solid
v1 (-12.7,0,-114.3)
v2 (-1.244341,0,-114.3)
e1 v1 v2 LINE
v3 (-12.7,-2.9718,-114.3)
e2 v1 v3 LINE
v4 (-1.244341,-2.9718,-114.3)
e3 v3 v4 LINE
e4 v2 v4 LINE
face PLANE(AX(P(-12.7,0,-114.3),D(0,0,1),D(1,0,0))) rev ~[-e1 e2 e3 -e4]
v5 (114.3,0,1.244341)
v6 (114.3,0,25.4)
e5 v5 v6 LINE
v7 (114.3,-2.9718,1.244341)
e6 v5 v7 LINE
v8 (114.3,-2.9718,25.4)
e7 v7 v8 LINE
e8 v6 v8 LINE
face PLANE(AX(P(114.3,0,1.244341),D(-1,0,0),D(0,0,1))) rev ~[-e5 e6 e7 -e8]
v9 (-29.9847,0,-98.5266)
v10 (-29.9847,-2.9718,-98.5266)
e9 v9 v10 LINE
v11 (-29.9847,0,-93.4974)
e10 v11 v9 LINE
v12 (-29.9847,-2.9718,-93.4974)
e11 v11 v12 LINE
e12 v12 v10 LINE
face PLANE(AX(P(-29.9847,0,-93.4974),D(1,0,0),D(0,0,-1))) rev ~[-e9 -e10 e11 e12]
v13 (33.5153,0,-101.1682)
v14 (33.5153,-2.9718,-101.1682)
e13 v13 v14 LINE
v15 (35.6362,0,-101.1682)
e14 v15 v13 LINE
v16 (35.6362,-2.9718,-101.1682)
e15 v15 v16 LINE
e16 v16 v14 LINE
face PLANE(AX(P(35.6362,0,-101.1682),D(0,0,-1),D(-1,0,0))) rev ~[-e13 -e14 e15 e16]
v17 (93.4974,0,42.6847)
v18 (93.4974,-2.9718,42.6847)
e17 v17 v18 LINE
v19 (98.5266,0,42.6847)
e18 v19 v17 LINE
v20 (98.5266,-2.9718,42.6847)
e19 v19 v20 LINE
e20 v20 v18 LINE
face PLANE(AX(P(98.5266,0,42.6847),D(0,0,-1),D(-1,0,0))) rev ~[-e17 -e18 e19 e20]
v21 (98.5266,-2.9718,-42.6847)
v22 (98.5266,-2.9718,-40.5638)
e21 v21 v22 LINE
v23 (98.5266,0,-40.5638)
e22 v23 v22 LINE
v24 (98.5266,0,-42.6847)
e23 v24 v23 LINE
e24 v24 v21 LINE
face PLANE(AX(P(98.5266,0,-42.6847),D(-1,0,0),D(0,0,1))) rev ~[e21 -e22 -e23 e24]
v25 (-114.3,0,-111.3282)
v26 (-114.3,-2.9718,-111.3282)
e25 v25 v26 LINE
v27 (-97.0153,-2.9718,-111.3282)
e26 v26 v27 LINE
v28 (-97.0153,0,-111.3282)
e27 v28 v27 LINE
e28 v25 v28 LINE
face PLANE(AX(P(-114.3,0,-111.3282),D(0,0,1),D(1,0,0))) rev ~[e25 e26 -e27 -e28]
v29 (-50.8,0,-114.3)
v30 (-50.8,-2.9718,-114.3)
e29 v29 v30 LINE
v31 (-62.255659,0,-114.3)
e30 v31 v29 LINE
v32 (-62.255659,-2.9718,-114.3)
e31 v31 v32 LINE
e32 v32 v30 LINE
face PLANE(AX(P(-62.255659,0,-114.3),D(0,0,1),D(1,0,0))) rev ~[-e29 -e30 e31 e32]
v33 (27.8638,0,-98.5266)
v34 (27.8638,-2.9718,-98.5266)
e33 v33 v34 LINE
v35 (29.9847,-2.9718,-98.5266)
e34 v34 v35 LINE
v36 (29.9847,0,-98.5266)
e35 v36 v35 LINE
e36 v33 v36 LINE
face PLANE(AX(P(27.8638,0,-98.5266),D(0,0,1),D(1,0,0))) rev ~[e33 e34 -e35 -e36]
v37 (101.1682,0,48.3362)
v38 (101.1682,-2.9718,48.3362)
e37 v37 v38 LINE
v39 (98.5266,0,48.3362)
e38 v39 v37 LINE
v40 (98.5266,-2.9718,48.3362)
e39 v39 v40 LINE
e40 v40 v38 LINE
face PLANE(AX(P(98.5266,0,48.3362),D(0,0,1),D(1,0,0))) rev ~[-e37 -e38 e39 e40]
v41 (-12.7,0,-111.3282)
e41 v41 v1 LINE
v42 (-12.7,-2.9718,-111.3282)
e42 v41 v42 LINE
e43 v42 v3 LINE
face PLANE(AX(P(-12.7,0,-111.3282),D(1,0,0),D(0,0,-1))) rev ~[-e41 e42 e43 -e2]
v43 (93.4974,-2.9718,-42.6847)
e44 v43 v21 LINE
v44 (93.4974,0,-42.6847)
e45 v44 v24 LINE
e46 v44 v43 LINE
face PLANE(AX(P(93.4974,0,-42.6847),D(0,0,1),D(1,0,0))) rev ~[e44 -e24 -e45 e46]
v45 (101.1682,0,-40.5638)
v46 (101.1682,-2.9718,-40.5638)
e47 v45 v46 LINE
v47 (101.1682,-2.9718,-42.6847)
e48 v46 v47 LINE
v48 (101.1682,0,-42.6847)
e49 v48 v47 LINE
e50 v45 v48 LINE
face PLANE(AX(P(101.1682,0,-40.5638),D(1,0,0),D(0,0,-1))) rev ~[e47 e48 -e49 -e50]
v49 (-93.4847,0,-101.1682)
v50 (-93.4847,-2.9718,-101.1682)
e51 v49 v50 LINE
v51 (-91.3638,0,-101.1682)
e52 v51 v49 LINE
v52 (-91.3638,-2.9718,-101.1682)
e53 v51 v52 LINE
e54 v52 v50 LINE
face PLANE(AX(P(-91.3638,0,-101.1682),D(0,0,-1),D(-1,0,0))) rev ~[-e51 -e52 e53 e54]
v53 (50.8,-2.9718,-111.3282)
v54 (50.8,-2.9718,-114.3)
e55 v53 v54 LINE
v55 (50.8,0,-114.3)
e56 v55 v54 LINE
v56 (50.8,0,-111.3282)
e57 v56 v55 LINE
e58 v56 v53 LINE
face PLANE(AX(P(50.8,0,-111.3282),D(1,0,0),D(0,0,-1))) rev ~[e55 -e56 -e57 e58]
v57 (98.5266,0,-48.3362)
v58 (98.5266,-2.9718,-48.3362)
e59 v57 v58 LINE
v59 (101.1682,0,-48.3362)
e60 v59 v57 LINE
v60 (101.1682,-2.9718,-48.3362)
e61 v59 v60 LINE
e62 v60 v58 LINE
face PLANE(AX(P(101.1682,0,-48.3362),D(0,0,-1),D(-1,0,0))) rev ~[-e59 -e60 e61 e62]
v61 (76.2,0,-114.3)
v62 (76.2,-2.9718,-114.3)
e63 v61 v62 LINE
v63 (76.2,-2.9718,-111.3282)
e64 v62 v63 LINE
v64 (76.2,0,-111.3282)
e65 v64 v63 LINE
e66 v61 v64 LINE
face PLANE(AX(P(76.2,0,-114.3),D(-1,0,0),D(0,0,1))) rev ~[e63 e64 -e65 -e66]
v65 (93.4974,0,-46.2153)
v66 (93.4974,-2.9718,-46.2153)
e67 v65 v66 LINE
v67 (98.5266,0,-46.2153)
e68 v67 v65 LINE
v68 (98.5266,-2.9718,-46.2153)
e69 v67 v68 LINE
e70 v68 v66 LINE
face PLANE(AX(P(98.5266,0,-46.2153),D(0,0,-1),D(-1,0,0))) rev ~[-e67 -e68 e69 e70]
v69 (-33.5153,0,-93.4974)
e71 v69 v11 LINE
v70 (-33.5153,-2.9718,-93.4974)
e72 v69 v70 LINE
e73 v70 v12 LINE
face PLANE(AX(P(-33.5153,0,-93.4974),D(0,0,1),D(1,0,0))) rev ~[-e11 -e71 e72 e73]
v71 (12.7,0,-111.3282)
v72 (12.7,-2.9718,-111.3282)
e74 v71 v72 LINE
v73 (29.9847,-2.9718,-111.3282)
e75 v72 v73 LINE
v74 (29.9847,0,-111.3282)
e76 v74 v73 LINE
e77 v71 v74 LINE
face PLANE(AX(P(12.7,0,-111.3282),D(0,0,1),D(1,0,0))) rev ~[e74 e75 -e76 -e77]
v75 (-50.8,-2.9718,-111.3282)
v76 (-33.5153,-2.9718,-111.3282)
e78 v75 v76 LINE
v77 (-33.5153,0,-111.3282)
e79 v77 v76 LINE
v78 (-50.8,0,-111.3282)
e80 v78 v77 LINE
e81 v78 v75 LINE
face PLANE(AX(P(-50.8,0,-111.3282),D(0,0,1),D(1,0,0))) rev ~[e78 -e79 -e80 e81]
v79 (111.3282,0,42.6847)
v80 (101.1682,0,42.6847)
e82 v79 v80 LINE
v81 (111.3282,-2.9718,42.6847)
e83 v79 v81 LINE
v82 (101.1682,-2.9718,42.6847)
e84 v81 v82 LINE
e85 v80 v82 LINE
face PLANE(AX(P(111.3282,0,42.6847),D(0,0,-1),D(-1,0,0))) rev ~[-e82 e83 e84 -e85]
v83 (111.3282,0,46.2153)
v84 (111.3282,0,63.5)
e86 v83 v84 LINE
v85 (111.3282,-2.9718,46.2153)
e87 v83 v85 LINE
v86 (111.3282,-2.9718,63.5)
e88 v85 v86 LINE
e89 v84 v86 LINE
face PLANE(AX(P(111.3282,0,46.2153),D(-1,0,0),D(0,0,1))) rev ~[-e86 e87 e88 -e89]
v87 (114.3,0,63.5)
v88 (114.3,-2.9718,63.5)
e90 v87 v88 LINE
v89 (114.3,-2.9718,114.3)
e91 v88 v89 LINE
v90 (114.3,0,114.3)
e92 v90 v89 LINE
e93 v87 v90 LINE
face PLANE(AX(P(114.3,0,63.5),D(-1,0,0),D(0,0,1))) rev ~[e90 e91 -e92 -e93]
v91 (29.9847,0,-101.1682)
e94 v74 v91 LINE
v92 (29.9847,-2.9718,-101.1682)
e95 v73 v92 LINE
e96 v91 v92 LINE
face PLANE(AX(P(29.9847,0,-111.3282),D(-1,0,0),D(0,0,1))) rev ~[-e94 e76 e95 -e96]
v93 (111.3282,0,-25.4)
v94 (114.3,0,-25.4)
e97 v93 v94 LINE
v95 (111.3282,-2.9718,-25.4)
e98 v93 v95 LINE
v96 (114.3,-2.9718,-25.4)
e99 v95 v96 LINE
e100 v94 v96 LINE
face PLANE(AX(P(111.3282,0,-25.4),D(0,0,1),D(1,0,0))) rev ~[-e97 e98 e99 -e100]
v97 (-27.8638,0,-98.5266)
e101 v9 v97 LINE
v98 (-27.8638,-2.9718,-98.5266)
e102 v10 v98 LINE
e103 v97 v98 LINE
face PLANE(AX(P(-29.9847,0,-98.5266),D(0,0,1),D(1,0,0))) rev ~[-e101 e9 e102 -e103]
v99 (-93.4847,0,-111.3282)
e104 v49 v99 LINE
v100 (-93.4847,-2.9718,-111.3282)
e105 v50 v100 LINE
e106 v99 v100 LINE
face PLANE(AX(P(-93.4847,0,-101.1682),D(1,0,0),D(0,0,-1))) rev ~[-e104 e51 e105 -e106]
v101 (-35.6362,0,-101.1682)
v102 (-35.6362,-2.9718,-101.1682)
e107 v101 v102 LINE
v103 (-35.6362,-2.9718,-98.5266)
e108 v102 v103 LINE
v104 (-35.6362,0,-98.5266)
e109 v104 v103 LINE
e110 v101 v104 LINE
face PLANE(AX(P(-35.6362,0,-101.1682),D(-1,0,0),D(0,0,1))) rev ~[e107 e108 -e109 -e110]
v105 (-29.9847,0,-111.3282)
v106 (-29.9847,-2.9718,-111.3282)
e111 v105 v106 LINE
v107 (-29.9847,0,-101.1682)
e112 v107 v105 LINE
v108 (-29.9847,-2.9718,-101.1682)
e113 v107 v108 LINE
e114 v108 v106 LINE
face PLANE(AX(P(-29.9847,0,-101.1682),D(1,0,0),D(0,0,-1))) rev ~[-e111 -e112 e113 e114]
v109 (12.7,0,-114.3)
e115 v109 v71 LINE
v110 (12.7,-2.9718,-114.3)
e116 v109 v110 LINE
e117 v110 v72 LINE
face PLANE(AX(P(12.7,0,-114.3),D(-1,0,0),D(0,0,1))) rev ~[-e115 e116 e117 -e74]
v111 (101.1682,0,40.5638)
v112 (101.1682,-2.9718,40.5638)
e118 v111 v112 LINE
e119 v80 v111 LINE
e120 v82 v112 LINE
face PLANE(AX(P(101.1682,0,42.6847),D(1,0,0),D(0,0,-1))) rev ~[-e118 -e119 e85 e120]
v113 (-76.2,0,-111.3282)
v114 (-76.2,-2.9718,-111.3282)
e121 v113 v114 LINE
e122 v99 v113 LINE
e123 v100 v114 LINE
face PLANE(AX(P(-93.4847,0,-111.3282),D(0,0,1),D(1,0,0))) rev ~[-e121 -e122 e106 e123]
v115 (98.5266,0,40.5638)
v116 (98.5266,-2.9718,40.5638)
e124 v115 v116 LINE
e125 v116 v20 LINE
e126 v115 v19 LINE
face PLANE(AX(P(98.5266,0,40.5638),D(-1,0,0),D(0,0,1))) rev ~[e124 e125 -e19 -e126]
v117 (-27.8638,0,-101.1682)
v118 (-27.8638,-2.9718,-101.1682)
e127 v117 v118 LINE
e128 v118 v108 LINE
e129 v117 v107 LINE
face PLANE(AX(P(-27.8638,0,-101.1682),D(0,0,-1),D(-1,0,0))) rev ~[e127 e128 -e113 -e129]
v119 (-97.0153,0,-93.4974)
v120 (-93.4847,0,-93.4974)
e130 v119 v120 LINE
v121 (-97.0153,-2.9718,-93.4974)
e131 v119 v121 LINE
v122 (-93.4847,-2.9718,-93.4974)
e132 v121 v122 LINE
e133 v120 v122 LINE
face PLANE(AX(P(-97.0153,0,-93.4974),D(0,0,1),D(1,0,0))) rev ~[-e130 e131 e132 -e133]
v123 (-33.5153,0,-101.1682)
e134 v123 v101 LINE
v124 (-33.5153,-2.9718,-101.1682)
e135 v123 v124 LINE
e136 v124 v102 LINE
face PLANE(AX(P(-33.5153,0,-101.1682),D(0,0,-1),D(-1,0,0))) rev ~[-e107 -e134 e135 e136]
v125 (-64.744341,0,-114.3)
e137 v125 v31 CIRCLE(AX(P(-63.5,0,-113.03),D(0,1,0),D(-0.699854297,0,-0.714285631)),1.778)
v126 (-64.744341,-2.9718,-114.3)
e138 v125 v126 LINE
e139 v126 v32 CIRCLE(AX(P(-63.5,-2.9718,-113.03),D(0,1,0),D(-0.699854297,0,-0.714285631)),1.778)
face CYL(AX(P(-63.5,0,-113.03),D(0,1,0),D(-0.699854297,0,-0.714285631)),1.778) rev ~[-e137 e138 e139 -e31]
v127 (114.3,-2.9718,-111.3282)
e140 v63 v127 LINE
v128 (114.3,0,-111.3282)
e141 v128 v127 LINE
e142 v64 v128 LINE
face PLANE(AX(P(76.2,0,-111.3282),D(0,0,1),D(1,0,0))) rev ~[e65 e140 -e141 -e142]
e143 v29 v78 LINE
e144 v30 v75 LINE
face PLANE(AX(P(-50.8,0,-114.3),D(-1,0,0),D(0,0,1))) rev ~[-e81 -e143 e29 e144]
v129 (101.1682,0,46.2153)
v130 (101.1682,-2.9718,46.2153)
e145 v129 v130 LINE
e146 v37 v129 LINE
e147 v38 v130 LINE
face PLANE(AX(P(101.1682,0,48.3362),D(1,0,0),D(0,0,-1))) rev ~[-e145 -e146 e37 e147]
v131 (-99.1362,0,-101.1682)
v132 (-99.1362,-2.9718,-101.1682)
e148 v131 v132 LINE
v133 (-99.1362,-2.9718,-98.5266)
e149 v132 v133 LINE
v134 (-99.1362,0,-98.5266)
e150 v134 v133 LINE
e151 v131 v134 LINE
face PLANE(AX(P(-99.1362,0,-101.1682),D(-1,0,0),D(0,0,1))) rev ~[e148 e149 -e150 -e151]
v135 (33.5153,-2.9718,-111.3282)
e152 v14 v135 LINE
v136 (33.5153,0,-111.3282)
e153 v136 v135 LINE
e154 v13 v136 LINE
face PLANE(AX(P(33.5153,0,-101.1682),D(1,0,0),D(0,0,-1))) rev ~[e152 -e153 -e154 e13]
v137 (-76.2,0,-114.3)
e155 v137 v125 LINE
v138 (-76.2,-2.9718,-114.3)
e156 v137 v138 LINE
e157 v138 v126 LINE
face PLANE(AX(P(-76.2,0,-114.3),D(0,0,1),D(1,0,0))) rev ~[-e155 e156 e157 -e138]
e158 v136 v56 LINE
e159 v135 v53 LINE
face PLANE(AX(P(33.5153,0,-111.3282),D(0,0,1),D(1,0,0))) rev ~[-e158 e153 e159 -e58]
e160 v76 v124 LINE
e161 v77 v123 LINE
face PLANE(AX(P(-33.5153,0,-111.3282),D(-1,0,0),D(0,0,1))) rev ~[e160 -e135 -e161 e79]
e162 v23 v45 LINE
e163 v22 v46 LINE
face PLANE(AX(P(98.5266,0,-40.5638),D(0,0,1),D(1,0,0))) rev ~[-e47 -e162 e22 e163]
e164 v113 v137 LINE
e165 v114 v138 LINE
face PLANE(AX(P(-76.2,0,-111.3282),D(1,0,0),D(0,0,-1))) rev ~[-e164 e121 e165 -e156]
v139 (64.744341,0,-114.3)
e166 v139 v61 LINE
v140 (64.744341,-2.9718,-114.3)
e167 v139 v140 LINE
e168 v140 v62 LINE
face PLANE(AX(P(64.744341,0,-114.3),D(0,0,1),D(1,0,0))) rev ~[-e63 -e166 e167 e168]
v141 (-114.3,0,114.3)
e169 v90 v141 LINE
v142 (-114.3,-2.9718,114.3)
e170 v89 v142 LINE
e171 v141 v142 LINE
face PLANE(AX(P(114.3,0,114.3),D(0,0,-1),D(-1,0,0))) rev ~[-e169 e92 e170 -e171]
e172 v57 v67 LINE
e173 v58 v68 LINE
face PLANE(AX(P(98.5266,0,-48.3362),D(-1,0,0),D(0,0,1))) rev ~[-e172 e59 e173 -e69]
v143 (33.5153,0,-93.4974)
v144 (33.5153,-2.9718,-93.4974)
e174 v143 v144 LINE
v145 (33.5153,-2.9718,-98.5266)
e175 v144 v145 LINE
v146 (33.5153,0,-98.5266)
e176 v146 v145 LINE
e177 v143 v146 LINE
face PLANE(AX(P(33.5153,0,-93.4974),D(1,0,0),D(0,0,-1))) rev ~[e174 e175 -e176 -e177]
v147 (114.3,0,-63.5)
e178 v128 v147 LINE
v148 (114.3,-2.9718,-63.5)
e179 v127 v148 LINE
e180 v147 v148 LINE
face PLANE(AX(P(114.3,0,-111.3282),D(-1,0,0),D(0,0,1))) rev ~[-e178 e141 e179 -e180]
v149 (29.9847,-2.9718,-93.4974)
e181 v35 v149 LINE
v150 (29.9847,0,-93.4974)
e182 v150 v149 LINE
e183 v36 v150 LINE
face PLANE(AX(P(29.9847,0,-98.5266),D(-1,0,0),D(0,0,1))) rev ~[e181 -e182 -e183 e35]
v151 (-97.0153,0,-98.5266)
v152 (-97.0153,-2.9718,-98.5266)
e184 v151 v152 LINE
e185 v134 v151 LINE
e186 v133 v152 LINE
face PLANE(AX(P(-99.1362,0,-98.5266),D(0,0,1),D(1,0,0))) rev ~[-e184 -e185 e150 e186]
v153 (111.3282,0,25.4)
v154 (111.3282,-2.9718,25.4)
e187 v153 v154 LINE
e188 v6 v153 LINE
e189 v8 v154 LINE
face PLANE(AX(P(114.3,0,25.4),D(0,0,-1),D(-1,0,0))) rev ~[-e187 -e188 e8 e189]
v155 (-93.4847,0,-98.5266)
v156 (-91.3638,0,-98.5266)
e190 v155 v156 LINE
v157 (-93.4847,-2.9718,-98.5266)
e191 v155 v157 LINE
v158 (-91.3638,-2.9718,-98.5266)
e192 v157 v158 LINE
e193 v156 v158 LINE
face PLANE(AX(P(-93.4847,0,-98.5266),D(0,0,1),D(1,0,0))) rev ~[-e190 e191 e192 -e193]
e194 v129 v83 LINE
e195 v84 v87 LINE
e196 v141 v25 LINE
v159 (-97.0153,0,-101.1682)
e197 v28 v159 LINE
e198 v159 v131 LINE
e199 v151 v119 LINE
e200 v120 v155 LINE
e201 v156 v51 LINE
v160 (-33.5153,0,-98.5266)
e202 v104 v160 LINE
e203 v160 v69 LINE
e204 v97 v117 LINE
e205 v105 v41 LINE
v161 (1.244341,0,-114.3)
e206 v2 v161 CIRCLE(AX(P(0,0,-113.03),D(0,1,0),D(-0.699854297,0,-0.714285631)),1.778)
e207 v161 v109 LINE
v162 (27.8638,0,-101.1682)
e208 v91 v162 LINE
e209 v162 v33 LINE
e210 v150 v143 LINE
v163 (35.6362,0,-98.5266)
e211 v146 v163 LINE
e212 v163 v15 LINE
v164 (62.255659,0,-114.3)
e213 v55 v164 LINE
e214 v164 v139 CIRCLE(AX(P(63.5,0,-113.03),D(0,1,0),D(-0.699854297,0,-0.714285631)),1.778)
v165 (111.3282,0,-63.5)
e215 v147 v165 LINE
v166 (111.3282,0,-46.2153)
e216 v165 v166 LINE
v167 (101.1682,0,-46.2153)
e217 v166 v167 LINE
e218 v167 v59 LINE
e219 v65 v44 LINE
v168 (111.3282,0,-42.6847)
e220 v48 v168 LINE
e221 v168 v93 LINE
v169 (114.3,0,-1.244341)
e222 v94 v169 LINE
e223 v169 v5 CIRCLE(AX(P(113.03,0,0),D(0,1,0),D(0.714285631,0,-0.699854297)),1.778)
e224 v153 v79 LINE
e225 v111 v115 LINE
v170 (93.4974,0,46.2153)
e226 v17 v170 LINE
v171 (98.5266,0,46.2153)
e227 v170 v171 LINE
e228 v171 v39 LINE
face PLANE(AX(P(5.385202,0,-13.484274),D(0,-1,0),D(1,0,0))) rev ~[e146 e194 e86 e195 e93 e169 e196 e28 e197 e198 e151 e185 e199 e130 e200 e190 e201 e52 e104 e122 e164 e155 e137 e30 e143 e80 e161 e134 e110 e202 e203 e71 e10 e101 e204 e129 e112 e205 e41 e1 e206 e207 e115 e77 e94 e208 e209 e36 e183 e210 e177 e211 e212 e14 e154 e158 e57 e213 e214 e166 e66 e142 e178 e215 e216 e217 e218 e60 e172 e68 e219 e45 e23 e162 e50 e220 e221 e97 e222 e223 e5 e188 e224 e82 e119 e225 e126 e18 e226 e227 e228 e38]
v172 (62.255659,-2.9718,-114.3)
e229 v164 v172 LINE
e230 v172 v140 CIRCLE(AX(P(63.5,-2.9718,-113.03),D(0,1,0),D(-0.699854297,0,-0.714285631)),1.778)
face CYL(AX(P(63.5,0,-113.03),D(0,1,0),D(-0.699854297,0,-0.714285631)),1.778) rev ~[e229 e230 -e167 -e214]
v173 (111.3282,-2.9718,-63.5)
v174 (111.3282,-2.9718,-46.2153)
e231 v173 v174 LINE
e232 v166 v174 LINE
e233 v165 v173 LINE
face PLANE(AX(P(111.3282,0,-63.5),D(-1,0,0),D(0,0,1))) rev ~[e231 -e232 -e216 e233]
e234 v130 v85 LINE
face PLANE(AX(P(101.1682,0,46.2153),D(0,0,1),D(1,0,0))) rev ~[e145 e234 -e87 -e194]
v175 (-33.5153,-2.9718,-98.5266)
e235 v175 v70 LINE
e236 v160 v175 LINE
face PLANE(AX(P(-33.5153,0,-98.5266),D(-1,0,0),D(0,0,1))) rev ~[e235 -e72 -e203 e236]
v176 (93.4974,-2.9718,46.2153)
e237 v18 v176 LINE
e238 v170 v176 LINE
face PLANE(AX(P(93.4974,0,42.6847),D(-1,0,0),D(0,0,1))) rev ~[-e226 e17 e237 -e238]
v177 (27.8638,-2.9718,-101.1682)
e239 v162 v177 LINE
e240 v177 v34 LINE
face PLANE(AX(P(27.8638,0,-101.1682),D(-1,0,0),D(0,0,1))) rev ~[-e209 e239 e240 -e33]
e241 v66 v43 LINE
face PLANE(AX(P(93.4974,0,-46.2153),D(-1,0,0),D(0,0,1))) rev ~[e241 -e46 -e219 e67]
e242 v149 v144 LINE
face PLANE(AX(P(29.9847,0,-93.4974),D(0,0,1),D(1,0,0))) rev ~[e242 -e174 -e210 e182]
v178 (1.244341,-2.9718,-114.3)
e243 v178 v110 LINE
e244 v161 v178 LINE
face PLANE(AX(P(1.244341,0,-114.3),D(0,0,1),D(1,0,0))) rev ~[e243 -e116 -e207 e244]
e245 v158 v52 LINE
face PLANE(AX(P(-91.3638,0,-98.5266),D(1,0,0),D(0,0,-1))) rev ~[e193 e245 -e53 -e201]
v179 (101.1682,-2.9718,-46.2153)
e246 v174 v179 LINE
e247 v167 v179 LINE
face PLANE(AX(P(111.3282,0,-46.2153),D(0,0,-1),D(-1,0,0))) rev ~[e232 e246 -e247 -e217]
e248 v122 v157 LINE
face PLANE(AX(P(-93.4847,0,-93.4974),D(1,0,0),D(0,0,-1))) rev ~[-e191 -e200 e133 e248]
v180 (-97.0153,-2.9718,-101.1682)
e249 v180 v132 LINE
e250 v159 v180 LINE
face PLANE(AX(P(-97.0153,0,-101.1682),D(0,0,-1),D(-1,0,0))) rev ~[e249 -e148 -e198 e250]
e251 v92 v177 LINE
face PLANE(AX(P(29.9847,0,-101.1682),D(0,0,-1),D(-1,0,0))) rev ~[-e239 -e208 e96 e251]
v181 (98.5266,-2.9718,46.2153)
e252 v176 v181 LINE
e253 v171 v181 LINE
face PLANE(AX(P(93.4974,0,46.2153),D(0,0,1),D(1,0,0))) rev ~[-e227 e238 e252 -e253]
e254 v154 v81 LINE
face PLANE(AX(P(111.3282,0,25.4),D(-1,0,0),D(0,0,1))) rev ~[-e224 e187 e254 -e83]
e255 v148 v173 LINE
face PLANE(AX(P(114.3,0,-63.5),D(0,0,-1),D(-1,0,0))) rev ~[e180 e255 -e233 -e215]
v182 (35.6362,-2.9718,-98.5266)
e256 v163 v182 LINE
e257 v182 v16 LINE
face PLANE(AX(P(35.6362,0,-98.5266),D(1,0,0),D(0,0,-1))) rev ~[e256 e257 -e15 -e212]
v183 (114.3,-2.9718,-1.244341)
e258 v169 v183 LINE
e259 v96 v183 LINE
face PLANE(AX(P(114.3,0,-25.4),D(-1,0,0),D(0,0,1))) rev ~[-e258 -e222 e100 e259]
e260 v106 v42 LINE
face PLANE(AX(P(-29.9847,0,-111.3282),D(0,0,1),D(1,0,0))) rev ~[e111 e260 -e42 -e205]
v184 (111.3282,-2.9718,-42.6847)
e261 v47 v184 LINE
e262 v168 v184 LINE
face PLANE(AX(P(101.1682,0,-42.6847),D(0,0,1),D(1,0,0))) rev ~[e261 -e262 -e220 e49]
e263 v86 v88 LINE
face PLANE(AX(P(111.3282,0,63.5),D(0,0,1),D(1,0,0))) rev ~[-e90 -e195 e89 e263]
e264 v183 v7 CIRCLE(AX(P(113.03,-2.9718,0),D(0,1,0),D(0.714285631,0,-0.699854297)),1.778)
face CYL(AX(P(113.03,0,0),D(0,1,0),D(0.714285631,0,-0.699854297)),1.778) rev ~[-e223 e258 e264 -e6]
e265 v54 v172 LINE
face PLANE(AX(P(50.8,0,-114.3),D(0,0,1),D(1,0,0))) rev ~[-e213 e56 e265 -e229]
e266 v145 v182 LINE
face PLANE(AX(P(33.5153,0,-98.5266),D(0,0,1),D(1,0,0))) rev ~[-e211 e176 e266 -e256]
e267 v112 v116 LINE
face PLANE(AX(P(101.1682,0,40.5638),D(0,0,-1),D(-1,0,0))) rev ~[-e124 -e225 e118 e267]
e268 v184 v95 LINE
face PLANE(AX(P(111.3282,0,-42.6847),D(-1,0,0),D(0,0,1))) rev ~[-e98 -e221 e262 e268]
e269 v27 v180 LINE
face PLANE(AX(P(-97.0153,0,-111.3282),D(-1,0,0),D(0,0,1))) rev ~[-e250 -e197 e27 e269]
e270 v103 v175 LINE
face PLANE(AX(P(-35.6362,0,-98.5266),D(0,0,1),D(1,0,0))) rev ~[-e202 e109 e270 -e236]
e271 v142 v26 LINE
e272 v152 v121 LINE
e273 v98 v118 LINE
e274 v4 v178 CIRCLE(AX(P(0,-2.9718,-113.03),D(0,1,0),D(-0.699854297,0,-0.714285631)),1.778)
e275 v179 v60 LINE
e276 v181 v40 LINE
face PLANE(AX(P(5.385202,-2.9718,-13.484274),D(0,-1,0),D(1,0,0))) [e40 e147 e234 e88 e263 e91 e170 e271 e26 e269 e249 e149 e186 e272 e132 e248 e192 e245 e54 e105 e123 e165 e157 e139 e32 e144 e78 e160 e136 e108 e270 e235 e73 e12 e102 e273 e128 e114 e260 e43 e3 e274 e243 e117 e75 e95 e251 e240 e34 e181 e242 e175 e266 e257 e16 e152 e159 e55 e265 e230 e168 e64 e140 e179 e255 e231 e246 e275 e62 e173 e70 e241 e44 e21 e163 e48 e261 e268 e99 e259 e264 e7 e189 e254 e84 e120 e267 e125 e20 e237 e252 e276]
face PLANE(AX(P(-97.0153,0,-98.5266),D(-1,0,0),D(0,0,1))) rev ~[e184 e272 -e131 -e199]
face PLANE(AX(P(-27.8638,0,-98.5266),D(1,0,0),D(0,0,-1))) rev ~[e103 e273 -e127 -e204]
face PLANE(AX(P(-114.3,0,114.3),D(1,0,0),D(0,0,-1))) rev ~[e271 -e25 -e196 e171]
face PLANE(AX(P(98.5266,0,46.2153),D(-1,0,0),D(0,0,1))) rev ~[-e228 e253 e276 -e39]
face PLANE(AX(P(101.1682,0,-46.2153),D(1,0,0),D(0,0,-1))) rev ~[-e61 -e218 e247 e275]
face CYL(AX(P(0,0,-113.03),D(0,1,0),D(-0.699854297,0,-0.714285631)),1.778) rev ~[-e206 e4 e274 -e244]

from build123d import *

# Parameters (mm, degrees)
F1_DEPTH = 2.9718


with BuildPart() as f1:
    # F0 (on Front) → F1 (new body)
    with BuildSketch(Plane.XZ):
        with BuildLine():
            Line((64.744341, -114.3), (76.2, -114.3))
            Line((76.2, -114.3), (76.2, -111.3282))
            Line((76.2, -111.3282), (114.3, -111.3282))
            Line((114.3, -111.3282), (114.3, -63.5))
            Line((114.3, -63.5), (111.3282, -63.5))
            Line((111.3282, -63.5), (111.3282, -46.2153))
            Line((111.3282, -46.2153), (101.1682, -46.2153))
            Line((101.1682, -46.2153), (101.1682, -48.3362))
            Line((101.1682, -48.3362), (98.5266, -48.3362))
            Line((98.5266, -48.3362), (98.5266, -46.2153))
            Line((98.5266, -46.2153), (93.4974, -46.2153))
            Line((93.4974, -46.2153), (93.4974, -42.6847))
            Line((93.4974, -42.6847), (98.5266, -42.6847))
            Line((98.5266, -42.6847), (98.5266, -40.5638))
            Line((98.5266, -40.5638), (101.1682, -40.5638))
            Line((101.1682, -40.5638), (101.1682, -42.6847))
            Line((101.1682, -42.6847), (111.3282, -42.6847))
            Line((111.3282, -42.6847), (111.3282, -25.4))
            Line((111.3282, -25.4), (114.3, -25.4))
            Line((114.3, -25.4), (114.3, -1.244341))
            ThreePointArc((114.3, -1.244341), (111.252, 0), (114.3, 1.244341))
            Line((114.3, 1.244341), (114.3, 25.4))
            Line((114.3, 25.4), (111.3282, 25.4))
            Line((111.3282, 25.4), (111.3282, 42.6847))
            Line((111.3282, 42.6847), (101.1682, 42.6847))
            Line((101.1682, 42.6847), (101.1682, 40.5638))
            Line((101.1682, 40.5638), (98.5266, 40.5638))
            Line((98.5266, 40.5638), (98.5266, 42.6847))
            Line((98.5266, 42.6847), (93.4974, 42.6847))
            Line((93.4974, 42.6847), (93.4974, 46.2153))
            Line((93.4974, 46.2153), (98.5266, 46.2153))
            Line((98.5266, 46.2153), (98.5266, 48.3362))
            Line((98.5266, 48.3362), (101.1682, 48.3362))
            Line((101.1682, 48.3362), (101.1682, 46.2153))
            Line((101.1682, 46.2153), (111.3282, 46.2153))
            Line((111.3282, 46.2153), (111.3282, 63.5))
            Line((111.3282, 63.5), (114.3, 63.5))
            Line((114.3, 63.5), (114.3, 114.3))
            Line((114.3, 114.3), (-114.3, 114.3))
            Line((-114.3, 114.3), (-114.3, -111.3282))
            Line((-114.3, -111.3282), (-97.0153, -111.3282))
            Line((-97.0153, -111.3282), (-97.0153, -101.1682))
            Line((-97.0153, -101.1682), (-99.1362, -101.1682))
            Line((-99.1362, -101.1682), (-99.1362, -98.5266))
            Line((-99.1362, -98.5266), (-97.0153, -98.5266))
            Line((-97.0153, -98.5266), (-97.0153, -93.4974))
            Line((-97.0153, -93.4974), (-93.4847, -93.4974))
            Line((-93.4847, -93.4974), (-93.4847, -98.5266))
            Line((-93.4847, -98.5266), (-91.3638, -98.5266))
            Line((-91.3638, -98.5266), (-91.3638, -101.1682))
            Line((-91.3638, -101.1682), (-93.4847, -101.1682))
            Line((-93.4847, -101.1682), (-93.4847, -111.3282))
            Line((-93.4847, -111.3282), (-76.2, -111.3282))
            Line((-76.2, -111.3282), (-76.2, -114.3))
            Line((-76.2, -114.3), (-64.744341, -114.3))
            ThreePointArc((-64.744341, -114.3), (-63.5, -111.252), (-62.255659, -114.3))
            Line((-62.255659, -114.3), (-50.8, -114.3))
            Line((-50.8, -114.3), (-50.8, -111.3282))
            Line((-50.8, -111.3282), (-33.5153, -111.3282))
            Line((-33.5153, -111.3282), (-33.5153, -101.1682))
            Line((-33.5153, -101.1682), (-35.6362, -101.1682))
            Line((-35.6362, -101.1682), (-35.6362, -98.5266))
            Line((-35.6362, -98.5266), (-33.5153, -98.5266))
            Line((-33.5153, -98.5266), (-33.5153, -93.4974))
            Line((-33.5153, -93.4974), (-29.9847, -93.4974))
            Line((-29.9847, -93.4974), (-29.9847, -98.5266))
            Line((-29.9847, -98.5266), (-27.8638, -98.5266))
            Line((-27.8638, -98.5266), (-27.8638, -101.1682))
            Line((-27.8638, -101.1682), (-29.9847, -101.1682))
            Line((-29.9847, -101.1682), (-29.9847, -111.3282))
            Line((-29.9847, -111.3282), (-12.7, -111.3282))
            Line((-12.7, -111.3282), (-12.7, -114.3))
            Line((-12.7, -114.3), (-1.244341, -114.3))
            ThreePointArc((-1.244341, -114.3), (0, -111.252), (1.244341, -114.3))
            Line((1.244341, -114.3), (12.7, -114.3))
            Line((12.7, -114.3), (12.7, -111.3282))
            Line((12.7, -111.3282), (29.9847, -111.3282))
            Line((29.9847, -111.3282), (29.9847, -101.1682))
            Line((29.9847, -101.1682), (27.8638, -101.1682))
            Line((27.8638, -101.1682), (27.8638, -98.5266))
            Line((27.8638, -98.5266), (29.9847, -98.5266))
            Line((29.9847, -98.5266), (29.9847, -93.4974))
            Line((29.9847, -93.4974), (33.5153, -93.4974))
            Line((33.5153, -93.4974), (33.5153, -98.5266))
            Line((33.5153, -98.5266), (35.6362, -98.5266))
            Line((35.6362, -98.5266), (35.6362, -101.1682))
            Line((35.6362, -101.1682), (33.5153, -101.1682))
            Line((33.5153, -101.1682), (33.5153, -111.3282))
            Line((33.5153, -111.3282), (50.8, -111.3282))
            Line((50.8, -111.3282), (50.8, -114.3))
            Line((50.8, -114.3), (62.255659, -114.3))
            ThreePointArc((62.255659, -114.3), (63.5, -111.252), (64.744341, -114.3))
        make_face()
    extrude(amount=F1_DEPTH)


solid = f1.part
